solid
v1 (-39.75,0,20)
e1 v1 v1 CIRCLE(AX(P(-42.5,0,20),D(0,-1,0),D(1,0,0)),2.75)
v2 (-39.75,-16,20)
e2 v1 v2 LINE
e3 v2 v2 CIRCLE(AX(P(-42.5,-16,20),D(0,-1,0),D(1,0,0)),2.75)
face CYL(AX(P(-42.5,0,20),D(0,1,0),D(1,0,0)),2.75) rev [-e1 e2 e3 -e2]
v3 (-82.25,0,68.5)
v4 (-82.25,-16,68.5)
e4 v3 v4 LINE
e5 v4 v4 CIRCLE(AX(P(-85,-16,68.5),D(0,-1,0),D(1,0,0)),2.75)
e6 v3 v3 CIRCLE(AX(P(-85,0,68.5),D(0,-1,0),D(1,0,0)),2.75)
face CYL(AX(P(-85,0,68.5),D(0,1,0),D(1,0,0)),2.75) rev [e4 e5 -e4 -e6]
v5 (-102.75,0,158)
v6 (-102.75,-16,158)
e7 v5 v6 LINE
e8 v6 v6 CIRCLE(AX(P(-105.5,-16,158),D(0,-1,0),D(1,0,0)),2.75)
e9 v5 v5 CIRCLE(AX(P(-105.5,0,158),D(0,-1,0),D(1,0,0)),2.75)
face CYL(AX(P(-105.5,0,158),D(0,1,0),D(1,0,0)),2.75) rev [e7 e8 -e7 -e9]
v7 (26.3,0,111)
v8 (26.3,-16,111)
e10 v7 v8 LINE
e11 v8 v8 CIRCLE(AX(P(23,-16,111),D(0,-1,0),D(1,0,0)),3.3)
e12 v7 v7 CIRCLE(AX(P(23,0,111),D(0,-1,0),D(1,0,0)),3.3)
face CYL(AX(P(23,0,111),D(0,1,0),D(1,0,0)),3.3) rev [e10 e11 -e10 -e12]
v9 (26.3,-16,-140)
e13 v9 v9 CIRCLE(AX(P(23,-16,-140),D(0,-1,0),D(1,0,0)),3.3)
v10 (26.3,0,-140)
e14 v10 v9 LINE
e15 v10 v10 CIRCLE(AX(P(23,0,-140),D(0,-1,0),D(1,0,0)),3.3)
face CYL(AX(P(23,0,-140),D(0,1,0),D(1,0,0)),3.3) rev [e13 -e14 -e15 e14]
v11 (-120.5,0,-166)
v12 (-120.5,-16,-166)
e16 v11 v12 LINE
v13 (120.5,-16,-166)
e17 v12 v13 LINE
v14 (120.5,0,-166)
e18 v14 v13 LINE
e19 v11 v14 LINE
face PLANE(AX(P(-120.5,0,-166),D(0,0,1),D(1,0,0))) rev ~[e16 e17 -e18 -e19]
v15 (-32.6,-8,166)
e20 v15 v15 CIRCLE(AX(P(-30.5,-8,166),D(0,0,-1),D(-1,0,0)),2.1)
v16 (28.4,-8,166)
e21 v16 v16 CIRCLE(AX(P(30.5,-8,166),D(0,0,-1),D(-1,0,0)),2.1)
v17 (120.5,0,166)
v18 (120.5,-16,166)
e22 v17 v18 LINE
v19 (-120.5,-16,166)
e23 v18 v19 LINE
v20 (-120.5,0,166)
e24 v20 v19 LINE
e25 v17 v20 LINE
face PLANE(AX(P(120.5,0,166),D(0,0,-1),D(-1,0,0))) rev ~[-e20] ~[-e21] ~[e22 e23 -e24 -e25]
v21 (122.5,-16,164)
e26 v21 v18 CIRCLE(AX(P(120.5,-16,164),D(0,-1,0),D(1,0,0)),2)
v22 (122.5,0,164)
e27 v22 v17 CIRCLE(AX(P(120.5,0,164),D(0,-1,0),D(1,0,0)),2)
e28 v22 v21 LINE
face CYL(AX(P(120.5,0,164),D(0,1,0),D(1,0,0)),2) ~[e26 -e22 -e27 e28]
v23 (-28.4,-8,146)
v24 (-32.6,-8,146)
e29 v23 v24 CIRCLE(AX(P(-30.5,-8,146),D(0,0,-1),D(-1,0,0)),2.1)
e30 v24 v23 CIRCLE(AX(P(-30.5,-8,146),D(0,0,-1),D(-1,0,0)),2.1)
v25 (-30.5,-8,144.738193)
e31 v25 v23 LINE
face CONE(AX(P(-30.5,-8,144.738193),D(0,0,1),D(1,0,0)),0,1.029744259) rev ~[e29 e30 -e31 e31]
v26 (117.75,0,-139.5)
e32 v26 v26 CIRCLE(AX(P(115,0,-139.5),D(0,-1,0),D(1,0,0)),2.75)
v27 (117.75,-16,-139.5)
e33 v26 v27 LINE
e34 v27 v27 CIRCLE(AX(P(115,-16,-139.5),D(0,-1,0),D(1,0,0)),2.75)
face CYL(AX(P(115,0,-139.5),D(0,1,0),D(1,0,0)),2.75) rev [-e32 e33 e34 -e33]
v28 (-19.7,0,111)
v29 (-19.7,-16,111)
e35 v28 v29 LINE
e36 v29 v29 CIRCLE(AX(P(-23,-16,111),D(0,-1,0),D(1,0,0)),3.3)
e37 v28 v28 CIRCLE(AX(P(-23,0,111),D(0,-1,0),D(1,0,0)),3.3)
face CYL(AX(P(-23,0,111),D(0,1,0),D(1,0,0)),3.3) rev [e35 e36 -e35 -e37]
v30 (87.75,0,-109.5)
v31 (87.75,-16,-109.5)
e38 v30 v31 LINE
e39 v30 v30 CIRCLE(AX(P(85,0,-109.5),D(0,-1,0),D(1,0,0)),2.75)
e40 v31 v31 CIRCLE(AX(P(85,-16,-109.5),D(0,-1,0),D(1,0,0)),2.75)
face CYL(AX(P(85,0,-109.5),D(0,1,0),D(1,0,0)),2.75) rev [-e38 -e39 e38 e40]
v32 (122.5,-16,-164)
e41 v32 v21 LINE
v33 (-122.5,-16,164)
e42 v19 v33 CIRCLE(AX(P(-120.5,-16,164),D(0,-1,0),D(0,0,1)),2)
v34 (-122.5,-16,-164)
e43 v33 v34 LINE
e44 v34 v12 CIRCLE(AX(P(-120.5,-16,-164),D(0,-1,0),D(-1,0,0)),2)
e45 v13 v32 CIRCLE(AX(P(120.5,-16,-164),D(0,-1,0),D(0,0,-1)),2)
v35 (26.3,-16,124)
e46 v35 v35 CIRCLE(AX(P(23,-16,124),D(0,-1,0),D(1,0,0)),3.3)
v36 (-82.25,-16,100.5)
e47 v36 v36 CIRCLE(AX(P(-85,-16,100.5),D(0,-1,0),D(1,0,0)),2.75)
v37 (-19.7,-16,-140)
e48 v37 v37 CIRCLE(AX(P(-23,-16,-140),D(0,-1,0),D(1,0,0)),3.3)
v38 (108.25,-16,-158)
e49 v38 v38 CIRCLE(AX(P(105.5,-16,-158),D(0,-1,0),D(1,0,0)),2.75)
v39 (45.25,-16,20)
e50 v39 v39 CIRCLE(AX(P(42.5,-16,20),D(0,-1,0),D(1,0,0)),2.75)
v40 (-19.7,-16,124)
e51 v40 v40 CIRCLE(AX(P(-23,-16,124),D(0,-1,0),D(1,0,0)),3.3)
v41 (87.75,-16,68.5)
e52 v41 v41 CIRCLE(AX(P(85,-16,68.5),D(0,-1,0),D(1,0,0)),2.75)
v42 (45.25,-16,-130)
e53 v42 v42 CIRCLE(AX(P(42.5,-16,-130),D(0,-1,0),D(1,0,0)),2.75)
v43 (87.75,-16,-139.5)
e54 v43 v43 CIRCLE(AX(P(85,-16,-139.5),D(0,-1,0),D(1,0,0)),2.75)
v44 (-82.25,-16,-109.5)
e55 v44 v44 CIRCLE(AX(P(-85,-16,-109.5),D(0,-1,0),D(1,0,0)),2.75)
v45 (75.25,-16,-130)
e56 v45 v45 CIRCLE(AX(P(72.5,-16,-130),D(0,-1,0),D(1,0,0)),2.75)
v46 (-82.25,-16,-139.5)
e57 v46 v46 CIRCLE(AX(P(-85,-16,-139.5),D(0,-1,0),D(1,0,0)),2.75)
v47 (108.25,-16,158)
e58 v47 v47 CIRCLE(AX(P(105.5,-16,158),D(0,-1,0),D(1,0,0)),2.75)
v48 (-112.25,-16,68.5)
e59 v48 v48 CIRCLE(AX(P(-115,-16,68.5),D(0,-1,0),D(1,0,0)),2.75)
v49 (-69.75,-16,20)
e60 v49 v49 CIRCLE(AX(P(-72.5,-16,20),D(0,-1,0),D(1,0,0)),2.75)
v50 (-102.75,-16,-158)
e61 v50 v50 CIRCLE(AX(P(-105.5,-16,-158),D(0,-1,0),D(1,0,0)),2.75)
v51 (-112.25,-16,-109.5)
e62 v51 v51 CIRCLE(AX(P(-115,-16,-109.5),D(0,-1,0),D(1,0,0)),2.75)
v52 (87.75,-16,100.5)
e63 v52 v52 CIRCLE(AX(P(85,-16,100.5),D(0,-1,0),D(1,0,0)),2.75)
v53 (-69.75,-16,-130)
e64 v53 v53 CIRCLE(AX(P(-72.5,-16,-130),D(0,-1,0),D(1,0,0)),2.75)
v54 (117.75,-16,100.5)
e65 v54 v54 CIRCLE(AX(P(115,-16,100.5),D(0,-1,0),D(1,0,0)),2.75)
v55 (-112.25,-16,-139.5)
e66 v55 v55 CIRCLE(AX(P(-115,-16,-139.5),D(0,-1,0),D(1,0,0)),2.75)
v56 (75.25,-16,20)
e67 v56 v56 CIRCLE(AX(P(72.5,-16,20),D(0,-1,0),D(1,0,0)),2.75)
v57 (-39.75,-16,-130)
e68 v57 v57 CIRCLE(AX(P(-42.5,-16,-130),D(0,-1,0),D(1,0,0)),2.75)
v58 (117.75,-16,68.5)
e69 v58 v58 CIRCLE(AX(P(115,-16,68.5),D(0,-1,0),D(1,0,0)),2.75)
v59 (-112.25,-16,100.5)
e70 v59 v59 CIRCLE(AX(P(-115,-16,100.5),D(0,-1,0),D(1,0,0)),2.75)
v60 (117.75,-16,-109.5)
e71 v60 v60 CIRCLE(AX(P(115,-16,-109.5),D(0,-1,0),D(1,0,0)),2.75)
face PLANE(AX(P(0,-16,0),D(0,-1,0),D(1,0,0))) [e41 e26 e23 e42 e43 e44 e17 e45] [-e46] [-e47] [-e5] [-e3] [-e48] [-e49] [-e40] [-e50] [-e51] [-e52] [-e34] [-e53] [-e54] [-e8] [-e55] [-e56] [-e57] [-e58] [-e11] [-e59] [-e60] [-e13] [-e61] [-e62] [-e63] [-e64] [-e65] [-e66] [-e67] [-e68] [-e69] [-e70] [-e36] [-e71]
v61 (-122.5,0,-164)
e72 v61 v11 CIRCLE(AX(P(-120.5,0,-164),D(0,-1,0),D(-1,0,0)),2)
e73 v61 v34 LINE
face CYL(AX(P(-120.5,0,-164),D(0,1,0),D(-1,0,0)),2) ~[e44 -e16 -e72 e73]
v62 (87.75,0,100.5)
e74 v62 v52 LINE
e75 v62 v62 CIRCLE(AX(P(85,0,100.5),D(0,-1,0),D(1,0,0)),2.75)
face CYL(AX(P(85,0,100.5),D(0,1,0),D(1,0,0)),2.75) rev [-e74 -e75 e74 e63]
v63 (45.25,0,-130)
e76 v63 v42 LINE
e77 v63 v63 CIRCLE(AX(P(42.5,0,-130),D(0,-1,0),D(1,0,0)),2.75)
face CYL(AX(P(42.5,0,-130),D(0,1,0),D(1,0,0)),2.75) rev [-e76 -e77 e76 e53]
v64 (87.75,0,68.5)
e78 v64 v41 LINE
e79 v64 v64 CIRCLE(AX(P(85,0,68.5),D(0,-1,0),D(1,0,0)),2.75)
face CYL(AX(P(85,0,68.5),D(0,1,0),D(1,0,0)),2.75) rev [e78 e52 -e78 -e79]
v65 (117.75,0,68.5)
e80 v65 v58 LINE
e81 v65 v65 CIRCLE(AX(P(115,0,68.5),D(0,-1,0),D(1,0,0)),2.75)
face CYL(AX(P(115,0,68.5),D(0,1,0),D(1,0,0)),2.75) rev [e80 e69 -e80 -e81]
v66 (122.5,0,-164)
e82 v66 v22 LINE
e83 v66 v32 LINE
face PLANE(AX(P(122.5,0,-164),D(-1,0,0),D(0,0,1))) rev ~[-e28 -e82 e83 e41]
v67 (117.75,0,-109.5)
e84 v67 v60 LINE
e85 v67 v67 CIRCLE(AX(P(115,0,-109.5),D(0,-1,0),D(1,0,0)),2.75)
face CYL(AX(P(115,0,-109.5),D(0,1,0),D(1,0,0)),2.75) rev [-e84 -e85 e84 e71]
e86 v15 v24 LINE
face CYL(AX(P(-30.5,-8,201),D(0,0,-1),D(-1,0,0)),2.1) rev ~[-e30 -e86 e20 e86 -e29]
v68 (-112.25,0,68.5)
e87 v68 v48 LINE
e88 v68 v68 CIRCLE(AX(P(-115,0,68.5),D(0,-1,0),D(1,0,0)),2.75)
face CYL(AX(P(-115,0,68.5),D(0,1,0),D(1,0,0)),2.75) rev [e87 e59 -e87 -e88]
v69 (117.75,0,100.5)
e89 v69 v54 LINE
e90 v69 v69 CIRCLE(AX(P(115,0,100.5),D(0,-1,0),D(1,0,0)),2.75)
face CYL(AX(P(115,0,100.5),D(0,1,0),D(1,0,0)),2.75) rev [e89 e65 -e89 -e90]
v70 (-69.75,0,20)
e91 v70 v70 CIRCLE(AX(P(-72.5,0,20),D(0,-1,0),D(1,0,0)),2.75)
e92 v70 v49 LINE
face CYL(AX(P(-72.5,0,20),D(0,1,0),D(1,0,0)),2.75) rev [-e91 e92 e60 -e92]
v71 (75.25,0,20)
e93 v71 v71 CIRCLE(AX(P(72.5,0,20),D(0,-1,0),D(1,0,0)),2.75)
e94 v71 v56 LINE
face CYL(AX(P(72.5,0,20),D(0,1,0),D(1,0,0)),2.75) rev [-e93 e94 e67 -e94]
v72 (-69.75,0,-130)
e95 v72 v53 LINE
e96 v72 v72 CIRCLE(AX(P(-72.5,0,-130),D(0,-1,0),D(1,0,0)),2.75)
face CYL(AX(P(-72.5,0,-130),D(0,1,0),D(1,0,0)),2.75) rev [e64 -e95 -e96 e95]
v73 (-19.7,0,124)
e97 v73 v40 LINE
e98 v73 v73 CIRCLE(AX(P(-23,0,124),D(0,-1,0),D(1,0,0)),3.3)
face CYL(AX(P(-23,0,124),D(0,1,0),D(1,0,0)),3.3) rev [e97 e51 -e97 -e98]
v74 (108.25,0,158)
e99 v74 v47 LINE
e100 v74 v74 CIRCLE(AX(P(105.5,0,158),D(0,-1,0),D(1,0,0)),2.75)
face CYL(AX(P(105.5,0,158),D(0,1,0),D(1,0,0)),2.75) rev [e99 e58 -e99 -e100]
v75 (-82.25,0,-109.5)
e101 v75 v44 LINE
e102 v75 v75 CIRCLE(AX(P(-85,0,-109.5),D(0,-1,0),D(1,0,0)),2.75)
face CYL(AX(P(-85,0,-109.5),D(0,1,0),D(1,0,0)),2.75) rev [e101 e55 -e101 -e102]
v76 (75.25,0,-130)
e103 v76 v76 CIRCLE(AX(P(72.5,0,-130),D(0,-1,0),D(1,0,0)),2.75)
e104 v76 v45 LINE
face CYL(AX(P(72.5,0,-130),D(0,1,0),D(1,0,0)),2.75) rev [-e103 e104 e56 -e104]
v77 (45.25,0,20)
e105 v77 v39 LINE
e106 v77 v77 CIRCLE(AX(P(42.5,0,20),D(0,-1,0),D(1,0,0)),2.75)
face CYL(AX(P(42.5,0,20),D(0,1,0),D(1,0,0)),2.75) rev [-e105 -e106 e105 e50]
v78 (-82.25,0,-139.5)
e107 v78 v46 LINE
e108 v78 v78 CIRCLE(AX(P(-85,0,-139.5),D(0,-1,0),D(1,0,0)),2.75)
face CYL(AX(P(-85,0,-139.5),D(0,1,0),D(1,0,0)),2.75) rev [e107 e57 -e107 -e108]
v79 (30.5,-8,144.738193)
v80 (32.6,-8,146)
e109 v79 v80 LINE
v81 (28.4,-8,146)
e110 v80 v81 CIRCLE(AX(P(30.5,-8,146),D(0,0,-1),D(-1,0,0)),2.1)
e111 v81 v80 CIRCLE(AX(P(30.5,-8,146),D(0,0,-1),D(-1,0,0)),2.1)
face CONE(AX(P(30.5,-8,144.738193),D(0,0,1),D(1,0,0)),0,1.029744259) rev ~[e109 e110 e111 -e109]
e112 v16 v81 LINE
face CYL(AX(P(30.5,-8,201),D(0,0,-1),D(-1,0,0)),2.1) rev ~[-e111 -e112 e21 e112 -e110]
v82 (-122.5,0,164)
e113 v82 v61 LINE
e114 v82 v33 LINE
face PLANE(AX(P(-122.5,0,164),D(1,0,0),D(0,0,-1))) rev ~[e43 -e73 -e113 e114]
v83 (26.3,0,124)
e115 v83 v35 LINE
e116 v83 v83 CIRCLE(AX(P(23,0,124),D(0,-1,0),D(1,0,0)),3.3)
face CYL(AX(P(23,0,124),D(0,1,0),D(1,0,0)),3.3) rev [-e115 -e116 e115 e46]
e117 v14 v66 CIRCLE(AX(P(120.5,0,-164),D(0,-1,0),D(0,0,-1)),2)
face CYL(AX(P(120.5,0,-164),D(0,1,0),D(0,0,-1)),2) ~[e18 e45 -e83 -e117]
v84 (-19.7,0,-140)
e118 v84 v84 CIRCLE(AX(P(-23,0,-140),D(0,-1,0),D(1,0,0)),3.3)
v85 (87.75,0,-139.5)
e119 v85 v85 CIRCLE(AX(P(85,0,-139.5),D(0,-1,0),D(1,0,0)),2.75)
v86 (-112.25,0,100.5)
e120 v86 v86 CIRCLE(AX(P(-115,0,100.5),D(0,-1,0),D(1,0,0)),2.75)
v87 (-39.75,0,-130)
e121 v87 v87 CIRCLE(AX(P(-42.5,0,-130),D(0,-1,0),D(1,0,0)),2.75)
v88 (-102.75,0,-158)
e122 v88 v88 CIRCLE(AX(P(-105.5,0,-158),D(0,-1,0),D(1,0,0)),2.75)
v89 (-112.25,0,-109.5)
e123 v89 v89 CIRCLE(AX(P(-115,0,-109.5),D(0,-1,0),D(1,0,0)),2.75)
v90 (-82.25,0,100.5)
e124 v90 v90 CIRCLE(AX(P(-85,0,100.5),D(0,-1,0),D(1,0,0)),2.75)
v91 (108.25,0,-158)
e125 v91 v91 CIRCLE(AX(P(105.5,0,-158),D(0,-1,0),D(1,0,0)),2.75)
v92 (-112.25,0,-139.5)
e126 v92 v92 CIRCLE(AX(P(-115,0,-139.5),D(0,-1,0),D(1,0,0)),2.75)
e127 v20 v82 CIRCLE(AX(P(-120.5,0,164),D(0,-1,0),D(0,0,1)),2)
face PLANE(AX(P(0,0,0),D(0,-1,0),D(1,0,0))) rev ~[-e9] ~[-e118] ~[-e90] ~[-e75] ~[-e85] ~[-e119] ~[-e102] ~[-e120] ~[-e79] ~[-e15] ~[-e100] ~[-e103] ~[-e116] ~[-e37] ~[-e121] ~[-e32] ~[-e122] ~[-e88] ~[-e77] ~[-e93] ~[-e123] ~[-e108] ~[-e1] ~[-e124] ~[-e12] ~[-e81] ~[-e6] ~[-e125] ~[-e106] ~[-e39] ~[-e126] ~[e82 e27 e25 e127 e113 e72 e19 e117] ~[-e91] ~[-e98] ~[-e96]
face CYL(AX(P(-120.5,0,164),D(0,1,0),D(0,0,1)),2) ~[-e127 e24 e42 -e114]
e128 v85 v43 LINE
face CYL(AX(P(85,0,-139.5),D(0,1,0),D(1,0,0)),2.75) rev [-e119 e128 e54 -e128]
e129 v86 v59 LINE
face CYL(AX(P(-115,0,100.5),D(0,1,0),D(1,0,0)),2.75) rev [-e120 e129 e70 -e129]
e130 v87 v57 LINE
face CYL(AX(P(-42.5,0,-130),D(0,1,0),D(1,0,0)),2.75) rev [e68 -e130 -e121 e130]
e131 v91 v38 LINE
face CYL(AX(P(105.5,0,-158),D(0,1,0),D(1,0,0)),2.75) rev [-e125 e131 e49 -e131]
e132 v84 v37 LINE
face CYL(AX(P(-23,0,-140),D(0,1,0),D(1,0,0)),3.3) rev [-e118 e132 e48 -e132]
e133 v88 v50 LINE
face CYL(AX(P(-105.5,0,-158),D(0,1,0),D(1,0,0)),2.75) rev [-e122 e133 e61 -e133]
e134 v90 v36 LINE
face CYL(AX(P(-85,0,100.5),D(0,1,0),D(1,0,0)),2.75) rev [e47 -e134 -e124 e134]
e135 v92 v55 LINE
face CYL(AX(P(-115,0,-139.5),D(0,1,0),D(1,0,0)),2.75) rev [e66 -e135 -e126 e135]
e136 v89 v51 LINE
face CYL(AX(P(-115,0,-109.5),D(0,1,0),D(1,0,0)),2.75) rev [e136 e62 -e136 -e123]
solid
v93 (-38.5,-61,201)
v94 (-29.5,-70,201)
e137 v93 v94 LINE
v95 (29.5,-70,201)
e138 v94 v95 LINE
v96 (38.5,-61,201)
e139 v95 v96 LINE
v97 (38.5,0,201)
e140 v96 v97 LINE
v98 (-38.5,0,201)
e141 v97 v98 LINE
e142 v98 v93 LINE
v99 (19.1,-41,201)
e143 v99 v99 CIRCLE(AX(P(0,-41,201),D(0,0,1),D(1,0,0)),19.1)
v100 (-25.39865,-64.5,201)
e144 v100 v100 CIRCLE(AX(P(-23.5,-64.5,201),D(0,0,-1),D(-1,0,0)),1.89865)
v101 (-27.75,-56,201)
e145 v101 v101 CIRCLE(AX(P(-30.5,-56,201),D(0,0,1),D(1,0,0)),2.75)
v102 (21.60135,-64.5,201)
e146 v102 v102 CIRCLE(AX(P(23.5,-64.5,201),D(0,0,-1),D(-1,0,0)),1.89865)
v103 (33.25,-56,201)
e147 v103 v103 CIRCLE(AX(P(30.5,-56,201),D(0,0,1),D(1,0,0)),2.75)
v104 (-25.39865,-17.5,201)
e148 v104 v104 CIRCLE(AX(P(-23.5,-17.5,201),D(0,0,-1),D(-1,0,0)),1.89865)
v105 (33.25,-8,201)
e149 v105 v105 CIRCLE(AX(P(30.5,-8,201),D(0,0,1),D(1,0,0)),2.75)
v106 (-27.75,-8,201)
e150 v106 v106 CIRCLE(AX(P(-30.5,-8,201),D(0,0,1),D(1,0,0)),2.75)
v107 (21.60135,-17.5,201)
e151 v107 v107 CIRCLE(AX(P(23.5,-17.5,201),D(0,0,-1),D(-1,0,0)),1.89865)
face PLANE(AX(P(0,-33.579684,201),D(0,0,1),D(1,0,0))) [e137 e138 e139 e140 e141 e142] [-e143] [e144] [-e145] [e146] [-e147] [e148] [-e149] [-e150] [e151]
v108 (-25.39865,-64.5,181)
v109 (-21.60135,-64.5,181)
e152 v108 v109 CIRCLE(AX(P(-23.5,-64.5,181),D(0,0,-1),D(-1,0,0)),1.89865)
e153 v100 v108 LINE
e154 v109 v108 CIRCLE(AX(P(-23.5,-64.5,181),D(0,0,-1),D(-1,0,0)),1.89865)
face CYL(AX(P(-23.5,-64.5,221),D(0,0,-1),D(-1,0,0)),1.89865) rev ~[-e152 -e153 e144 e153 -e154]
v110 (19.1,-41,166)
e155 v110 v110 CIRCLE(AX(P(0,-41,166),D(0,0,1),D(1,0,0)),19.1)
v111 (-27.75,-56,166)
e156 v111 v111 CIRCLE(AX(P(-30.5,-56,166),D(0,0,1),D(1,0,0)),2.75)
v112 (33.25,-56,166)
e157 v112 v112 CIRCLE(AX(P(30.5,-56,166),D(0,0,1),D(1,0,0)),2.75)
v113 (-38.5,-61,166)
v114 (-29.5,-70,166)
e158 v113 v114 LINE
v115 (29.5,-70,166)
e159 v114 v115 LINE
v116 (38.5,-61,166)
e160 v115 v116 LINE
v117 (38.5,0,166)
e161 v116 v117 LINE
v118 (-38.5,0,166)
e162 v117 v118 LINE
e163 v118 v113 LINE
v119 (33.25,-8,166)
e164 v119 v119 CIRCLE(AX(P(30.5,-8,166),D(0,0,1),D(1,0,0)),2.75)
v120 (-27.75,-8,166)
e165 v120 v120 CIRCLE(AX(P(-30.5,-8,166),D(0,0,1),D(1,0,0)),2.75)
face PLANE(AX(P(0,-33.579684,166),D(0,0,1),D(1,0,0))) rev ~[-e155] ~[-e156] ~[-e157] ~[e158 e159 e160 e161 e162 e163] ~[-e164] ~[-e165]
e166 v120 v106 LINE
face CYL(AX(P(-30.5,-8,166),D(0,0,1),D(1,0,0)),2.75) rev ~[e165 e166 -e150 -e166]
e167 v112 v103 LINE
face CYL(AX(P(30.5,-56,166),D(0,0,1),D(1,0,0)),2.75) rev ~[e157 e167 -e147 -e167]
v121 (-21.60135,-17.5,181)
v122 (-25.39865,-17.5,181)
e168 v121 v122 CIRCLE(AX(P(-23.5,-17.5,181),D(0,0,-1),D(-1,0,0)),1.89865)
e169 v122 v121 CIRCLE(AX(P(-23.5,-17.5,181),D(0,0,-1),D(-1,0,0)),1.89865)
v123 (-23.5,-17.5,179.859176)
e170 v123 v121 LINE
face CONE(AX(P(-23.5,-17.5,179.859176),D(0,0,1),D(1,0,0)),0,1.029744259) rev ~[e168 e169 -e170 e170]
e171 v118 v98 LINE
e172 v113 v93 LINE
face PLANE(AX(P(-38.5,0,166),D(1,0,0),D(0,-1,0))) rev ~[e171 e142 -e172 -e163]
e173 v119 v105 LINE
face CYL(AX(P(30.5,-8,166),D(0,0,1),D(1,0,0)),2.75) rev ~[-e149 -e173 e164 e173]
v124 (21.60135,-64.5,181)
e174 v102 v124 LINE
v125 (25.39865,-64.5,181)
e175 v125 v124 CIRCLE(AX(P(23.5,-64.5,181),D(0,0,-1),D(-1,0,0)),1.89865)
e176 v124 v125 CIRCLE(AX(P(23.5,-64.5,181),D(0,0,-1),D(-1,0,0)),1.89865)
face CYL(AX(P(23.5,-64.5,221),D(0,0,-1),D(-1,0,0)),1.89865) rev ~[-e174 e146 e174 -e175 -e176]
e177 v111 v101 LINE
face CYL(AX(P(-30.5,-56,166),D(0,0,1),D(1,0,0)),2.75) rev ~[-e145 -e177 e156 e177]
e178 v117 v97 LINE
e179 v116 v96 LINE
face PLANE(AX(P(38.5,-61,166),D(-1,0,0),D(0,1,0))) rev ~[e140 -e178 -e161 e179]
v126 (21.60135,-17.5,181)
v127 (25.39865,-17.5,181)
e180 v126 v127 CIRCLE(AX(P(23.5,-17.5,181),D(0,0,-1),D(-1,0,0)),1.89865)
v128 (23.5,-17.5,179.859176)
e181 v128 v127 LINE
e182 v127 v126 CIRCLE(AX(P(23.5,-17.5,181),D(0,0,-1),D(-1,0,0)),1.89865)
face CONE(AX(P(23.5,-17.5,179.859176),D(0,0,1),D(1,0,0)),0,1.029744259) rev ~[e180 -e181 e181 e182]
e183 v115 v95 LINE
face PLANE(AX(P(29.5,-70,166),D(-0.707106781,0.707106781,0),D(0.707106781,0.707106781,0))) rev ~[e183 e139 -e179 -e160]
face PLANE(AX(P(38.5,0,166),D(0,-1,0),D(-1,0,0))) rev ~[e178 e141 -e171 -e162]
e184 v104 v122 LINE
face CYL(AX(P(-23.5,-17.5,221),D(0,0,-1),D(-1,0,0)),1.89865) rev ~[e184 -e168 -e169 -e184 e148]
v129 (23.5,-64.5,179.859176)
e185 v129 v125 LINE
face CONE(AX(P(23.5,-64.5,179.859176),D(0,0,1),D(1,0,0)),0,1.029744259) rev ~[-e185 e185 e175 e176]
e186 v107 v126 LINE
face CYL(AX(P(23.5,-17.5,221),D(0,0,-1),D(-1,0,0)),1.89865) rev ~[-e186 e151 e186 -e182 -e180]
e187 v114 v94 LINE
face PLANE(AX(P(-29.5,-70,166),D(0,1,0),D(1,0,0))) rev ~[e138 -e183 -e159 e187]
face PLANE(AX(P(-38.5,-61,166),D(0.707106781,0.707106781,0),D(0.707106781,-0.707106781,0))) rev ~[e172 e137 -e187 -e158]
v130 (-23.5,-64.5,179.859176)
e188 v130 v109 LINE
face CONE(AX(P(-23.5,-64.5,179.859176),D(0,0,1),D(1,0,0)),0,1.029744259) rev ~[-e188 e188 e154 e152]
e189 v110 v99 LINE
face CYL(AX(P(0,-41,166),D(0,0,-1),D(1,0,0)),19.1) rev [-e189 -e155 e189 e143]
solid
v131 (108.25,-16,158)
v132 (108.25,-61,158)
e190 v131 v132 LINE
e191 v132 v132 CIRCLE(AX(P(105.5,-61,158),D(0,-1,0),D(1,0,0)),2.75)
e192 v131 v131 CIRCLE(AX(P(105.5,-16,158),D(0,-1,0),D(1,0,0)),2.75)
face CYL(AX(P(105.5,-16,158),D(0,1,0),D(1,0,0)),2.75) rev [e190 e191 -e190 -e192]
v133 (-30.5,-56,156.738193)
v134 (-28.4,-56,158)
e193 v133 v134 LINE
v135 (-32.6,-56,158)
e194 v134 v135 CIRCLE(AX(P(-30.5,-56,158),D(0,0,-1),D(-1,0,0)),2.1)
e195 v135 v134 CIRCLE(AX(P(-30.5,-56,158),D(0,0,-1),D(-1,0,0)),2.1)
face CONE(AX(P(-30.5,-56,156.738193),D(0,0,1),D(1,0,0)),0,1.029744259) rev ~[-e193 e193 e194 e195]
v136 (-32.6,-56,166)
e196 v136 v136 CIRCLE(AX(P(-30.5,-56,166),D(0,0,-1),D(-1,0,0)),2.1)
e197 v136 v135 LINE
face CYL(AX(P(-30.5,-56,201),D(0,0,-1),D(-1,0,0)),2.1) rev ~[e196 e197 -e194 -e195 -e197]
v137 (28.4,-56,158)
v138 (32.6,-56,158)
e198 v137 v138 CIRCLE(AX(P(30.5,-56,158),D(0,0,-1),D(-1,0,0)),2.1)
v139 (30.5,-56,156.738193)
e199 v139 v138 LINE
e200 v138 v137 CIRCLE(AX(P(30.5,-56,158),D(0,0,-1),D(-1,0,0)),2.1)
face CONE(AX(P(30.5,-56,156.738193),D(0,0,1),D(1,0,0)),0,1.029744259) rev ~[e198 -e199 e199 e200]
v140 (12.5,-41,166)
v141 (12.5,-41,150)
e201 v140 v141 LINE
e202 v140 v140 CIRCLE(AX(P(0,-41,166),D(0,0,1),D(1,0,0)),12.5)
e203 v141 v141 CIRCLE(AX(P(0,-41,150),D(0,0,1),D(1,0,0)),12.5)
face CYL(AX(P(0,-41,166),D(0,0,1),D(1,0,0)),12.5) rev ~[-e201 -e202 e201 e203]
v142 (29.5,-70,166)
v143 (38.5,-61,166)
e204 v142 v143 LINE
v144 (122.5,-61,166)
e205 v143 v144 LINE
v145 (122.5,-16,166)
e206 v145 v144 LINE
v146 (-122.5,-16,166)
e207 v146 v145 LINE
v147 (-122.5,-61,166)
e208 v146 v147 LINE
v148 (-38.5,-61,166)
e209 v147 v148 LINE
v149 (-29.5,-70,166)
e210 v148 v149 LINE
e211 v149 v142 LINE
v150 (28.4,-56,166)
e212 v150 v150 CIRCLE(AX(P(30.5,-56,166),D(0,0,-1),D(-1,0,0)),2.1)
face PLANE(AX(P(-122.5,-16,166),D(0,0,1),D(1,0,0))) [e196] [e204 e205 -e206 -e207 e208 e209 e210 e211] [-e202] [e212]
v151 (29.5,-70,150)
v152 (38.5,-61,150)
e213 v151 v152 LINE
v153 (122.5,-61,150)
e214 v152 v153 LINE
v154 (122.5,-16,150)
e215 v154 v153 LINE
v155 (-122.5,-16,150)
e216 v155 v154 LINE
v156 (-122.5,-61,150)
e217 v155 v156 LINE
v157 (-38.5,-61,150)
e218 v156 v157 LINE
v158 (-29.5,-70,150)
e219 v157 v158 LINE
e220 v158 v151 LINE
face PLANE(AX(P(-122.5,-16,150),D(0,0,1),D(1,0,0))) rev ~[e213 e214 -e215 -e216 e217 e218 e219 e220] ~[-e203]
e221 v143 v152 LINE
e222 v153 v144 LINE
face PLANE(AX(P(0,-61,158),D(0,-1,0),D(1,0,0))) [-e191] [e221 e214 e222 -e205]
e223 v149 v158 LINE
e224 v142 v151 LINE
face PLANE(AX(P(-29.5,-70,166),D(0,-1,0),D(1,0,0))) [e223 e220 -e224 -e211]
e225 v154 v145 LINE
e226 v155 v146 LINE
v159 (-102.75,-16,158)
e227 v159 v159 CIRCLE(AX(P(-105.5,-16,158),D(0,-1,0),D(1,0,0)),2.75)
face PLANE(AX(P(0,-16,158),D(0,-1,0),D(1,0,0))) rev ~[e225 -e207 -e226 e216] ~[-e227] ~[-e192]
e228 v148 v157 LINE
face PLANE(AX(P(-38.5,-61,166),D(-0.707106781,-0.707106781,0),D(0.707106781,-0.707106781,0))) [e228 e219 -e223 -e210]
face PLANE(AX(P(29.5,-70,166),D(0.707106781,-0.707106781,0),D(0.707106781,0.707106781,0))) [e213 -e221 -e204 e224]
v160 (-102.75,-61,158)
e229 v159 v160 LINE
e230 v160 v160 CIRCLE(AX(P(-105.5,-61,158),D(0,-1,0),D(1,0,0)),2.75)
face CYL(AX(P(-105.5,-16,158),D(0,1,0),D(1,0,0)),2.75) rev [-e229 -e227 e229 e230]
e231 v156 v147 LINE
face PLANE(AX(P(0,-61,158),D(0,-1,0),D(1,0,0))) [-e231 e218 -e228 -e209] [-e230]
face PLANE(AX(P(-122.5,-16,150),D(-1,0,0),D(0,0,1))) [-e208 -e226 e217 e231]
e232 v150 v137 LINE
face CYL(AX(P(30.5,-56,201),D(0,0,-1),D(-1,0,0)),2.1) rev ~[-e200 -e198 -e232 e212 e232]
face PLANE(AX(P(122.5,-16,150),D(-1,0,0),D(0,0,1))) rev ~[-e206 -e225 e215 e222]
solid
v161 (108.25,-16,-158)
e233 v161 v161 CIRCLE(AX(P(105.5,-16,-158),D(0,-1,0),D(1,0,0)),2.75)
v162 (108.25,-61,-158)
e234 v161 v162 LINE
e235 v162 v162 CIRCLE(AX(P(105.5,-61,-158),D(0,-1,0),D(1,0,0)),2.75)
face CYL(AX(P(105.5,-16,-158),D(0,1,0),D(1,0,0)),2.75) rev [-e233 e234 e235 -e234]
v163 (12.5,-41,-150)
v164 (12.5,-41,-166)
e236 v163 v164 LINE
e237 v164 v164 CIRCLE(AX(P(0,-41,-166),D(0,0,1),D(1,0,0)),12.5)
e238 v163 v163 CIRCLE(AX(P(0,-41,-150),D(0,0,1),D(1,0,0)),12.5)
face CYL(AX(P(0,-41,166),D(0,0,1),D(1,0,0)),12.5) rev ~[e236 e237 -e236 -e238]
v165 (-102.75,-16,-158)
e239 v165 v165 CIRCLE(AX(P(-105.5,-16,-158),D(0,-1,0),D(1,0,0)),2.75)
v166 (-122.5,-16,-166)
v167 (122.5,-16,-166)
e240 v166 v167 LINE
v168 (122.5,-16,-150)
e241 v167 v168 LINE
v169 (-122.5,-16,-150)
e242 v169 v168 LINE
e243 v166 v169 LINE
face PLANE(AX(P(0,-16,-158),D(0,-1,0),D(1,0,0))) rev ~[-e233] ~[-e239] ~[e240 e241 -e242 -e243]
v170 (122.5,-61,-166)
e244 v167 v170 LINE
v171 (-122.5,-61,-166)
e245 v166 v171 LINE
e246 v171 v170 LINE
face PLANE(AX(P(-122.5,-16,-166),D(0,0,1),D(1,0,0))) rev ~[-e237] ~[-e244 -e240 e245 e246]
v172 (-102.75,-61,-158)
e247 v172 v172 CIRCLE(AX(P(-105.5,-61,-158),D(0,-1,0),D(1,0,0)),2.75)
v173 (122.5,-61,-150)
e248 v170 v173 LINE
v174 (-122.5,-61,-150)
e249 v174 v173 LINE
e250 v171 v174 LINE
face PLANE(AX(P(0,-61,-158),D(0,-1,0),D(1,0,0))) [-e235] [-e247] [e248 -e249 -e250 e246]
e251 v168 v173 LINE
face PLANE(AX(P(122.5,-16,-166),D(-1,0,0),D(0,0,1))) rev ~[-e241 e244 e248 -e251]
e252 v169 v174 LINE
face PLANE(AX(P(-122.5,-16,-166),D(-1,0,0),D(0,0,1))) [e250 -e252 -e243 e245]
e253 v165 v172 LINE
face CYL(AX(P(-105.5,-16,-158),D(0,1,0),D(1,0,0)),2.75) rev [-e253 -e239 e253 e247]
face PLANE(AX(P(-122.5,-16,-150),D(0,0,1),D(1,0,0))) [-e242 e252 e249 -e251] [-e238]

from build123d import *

# Parameters (mm, degrees)
F0_R              = 2.75
F0_R_2            = 3.3
F1_DEPTH          = 16
F2_W              = 245
F2_H              = 16
F2_R              = 2.75
F3_DEPTH          = 45
F4_R              = 12.5
F5_DEPTH          = 332.001
F7_DEPTH          = 16
F8_R              = 19.1
F9_DEPTH          = 35
F11_D             = 3.7973
F11_DEPTH         = 20
F11_TIP           = 1.1408240143
F12_D             = 4.2
F12_DEPTH         = 55
F12_CBORE_D       = 5.5
F12_CBORE_DEPTH   = 35
F12_TIP           = 1.2618073
F12_2_D           = 4.2
F12_2_DEPTH       = 55
F12_2_CBORE_D     = 5.5
F12_2_CBORE_DEPTH = 35
F12_2_TIP         = 1.2618073
F13_D             = 4.2
F13_DEPTH         = 43
F13_CBORE_D       = 5.5
F13_CBORE_DEPTH   = 35
F13_TIP           = 1.2618073
F13_2_D           = 4.2
F13_2_DEPTH       = 43
F13_2_CBORE_D     = 5.5
F13_2_CBORE_DEPTH = 35
F13_2_TIP         = 1.2618073


with BuildPart() as f1:
    # F0 (on Front) → F1 (new body)
    with BuildSketch(Plane.XZ):
        with BuildLine():
            ThreePointArc((122.5, 164), (121.9142135624, 165.4142135624), (120.5, 166))
            Line((120.5, 166), (-120.5, 166))
            ThreePointArc((-120.5, 166), (-121.9142135624, 165.4142135624), (-122.5, 164))
            Line((-122.5, 164), (-122.5, -164))
            ThreePointArc((-122.5, -164), (-121.9142135624, -165.4142135624), (-120.5, -166))
            Line((-120.5, -166), (120.5, -166))
            ThreePointArc((120.5, -166), (121.9142135624, -165.4142135624), (122.5, -164))
            Line((122.5, -164), (122.5, 164))
        make_face()
        with Locations((-105.5, -158)):
            Circle(F0_R, mode=Mode.SUBTRACT)
        with Locations((-115, -139.5)):
            Circle(F0_R, mode=Mode.SUBTRACT)
        with Locations((-85, -139.5)):
            Circle(F0_R, mode=Mode.SUBTRACT)
        with Locations((-72.5, -130)):
            Circle(F0_R, mode=Mode.SUBTRACT)
        with Locations((-115, -109.5)):
            Circle(F0_R, mode=Mode.SUBTRACT)
        with Locations((-85, -109.5)):
            Circle(F0_R, mode=Mode.SUBTRACT)
        with Locations((-42.5, -130)):
            Circle(F0_R, mode=Mode.SUBTRACT)
        with Locations((-23, -140)):
            Circle(F0_R_2, mode=Mode.SUBTRACT)
        with Locations((23, -140)):
            Circle(F0_R_2, mode=Mode.SUBTRACT)
        with Locations((42.5, -130)):
            Circle(F0_R, mode=Mode.SUBTRACT)
        with Locations((72.5, -130)):
            Circle(F0_R, mode=Mode.SUBTRACT)
        with Locations((85, -139.5)):
            Circle(F0_R, mode=Mode.SUBTRACT)
        with Locations((105.5, -158)):
            Circle(F0_R, mode=Mode.SUBTRACT)
        with Locations((115, -139.5)):
            Circle(F0_R, mode=Mode.SUBTRACT)
        with Locations((85, -109.5)):
            Circle(F0_R, mode=Mode.SUBTRACT)
        with Locations((115, -109.5)):
            Circle(F0_R, mode=Mode.SUBTRACT)
        with Locations((-72.5, 20)):
            Circle(F0_R, mode=Mode.SUBTRACT)
        with Locations((-115, 68.5)):
            Circle(F0_R, mode=Mode.SUBTRACT)
        with Locations((-85, 68.5)):
            Circle(F0_R, mode=Mode.SUBTRACT)
        with Locations((-42.5, 20)):
            Circle(F0_R, mode=Mode.SUBTRACT)
        with Locations((-115, 100.5)):
            Circle(F0_R, mode=Mode.SUBTRACT)
        with Locations((-85, 100.5)):
            Circle(F0_R, mode=Mode.SUBTRACT)
        with Locations((-105.5, 158)):
            Circle(F0_R, mode=Mode.SUBTRACT)
        with Locations((-23, 111)):
            Circle(F0_R_2, mode=Mode.SUBTRACT)
        with Locations((-23, 124)):
            Circle(F0_R_2, mode=Mode.SUBTRACT)
        with Locations((42.5, 20)):
            Circle(F0_R, mode=Mode.SUBTRACT)
        with Locations((72.5, 20)):
            Circle(F0_R, mode=Mode.SUBTRACT)
        with Locations((85, 68.5)):
            Circle(F0_R, mode=Mode.SUBTRACT)
        with Locations((115, 68.5)):
            Circle(F0_R, mode=Mode.SUBTRACT)
        with Locations((23, 111)):
            Circle(F0_R_2, mode=Mode.SUBTRACT)
        with Locations((23, 124)):
            Circle(F0_R_2, mode=Mode.SUBTRACT)
        with Locations((85, 100.5)):
            Circle(F0_R, mode=Mode.SUBTRACT)
        with Locations((115, 100.5)):
            Circle(F0_R, mode=Mode.SUBTRACT)
        with Locations((105.5, 158)):
            Circle(F0_R, mode=Mode.SUBTRACT)
    extrude(amount=F1_DEPTH)

    # F12
    with Locations(Plane.XY.offset(201)):
        with Locations((-30.5, -8), (30.5, -8)):
            CounterBoreHole(F12_D / 2, F12_CBORE_D / 2, F12_CBORE_DEPTH, depth=F12_DEPTH)
            with Locations((0, 0, -(F12_DEPTH + F12_TIP / 2))):  # 118° drill point
                Cone(0, F12_D / 2, F12_TIP, mode=Mode.SUBTRACT)


with BuildPart() as f3:
    # F2 (on face) → F3 (new body)
    with BuildSketch(Plane.XZ.offset(16)):
        with Locations((0, 158)):
            Rectangle(F2_W, F2_H)
        with Locations((-105.5, 158)):
            Circle(F2_R, mode=Mode.SUBTRACT)
        with Locations((105.5, 158)):
            Circle(F2_R, mode=Mode.SUBTRACT)
    extrude(amount=F3_DEPTH)


with BuildPart() as f3b:
    # F2 (on face) → F3, piece 2 (new body)
    with BuildSketch(Plane.XZ.offset(16)):
        with Locations((0, -158)):
            Rectangle(F2_W, F2_H)
        with Locations((-105.5, -158)):
            Circle(F2_R, mode=Mode.SUBTRACT)
        with Locations((105.5, -158)):
            Circle(F2_R, mode=Mode.SUBTRACT)
    extrude(amount=F3_DEPTH)


with BuildPart() as f5_tool:
    # F4 (on face) → F5 (new body, through all)
    with BuildSketch(Plane.XY.offset(166)):
        with Locations((0, -41)):
            Circle(F4_R)
    extrude(amount=-F5_DEPTH)


with BuildPart() as f3_1:
    add(f3.part)

    # F5: cut by f5_tool
    add(f5_tool.part, mode=Mode.SUBTRACT)

    # F6 (on face) → F7 (join)
    with BuildSketch(Plane.XY.offset(166)):
        Polygon((38.5, -61), (-38.5, -61), (-29.5, -70), (29.5, -70), align=None)
    extrude(amount=-F7_DEPTH)

    # F13
    with Locations(Plane.XY.offset(201)):
        with Locations((-30.5, -56), (30.5, -56)):
            CounterBoreHole(F13_D / 2, F13_CBORE_D / 2, F13_CBORE_DEPTH, depth=F13_DEPTH)
            with Locations((0, 0, -(F13_DEPTH + F13_TIP / 2))):  # 118° drill point
                Cone(0, F13_D / 2, F13_TIP, mode=Mode.SUBTRACT)


with BuildPart() as f3b_1:
    add(f3b.part)

    # F5: cut by f5_tool
    add(f5_tool.part, mode=Mode.SUBTRACT)


with BuildPart() as f9:
    # F8 (on face) → F9 (new body)
    with BuildSketch(Plane.XY.offset(166)):
        Polygon((-38.5, -61), (-29.5, -70), (29.5, -70), (38.5, -61), (38.5, 0), (-38.5, 0), align=None)
        with Locations((0, -41)):
            Circle(F8_R, mode=Mode.SUBTRACT)
    extrude(amount=F9_DEPTH)

    # F11
    with Locations(Plane.XY.offset(201)):
        with Locations((-23.5, -17.5), (-23.5, -64.5), (23.5, -64.5), (23.5, -17.5)):
            Hole(F11_D / 2, depth=F11_DEPTH)
            with Locations((0, 0, -(F11_DEPTH + F11_TIP / 2))):  # 118° drill point
                Cone(0, F11_D / 2, F11_TIP, mode=Mode.SUBTRACT)

    # F12#2
    with Locations(Plane.XY.offset(201)):
        with Locations((-30.5, -8), (30.5, -8)):
            CounterBoreHole(F12_2_D / 2, F12_2_CBORE_D / 2, F12_2_CBORE_DEPTH, depth=F12_2_DEPTH)
            with Locations((0, 0, -(F12_2_DEPTH + F12_2_TIP / 2))):  # 118° drill point
                Cone(0, F12_2_D / 2, F12_2_TIP, mode=Mode.SUBTRACT)

    # F13#2
    with Locations(Plane.XY.offset(201)):
        with Locations((-30.5, -56), (30.5, -56)):
            CounterBoreHole(F13_2_D / 2, F13_2_CBORE_D / 2, F13_2_CBORE_DEPTH, depth=F13_2_DEPTH)
            with Locations((0, 0, -(F13_2_DEPTH + F13_2_TIP / 2))):  # 118° drill point
                Cone(0, F13_2_D / 2, F13_2_TIP, mode=Mode.SUBTRACT)


solid = Compound([f1.part, f3_1.part, f3b_1.part, f9.part])
